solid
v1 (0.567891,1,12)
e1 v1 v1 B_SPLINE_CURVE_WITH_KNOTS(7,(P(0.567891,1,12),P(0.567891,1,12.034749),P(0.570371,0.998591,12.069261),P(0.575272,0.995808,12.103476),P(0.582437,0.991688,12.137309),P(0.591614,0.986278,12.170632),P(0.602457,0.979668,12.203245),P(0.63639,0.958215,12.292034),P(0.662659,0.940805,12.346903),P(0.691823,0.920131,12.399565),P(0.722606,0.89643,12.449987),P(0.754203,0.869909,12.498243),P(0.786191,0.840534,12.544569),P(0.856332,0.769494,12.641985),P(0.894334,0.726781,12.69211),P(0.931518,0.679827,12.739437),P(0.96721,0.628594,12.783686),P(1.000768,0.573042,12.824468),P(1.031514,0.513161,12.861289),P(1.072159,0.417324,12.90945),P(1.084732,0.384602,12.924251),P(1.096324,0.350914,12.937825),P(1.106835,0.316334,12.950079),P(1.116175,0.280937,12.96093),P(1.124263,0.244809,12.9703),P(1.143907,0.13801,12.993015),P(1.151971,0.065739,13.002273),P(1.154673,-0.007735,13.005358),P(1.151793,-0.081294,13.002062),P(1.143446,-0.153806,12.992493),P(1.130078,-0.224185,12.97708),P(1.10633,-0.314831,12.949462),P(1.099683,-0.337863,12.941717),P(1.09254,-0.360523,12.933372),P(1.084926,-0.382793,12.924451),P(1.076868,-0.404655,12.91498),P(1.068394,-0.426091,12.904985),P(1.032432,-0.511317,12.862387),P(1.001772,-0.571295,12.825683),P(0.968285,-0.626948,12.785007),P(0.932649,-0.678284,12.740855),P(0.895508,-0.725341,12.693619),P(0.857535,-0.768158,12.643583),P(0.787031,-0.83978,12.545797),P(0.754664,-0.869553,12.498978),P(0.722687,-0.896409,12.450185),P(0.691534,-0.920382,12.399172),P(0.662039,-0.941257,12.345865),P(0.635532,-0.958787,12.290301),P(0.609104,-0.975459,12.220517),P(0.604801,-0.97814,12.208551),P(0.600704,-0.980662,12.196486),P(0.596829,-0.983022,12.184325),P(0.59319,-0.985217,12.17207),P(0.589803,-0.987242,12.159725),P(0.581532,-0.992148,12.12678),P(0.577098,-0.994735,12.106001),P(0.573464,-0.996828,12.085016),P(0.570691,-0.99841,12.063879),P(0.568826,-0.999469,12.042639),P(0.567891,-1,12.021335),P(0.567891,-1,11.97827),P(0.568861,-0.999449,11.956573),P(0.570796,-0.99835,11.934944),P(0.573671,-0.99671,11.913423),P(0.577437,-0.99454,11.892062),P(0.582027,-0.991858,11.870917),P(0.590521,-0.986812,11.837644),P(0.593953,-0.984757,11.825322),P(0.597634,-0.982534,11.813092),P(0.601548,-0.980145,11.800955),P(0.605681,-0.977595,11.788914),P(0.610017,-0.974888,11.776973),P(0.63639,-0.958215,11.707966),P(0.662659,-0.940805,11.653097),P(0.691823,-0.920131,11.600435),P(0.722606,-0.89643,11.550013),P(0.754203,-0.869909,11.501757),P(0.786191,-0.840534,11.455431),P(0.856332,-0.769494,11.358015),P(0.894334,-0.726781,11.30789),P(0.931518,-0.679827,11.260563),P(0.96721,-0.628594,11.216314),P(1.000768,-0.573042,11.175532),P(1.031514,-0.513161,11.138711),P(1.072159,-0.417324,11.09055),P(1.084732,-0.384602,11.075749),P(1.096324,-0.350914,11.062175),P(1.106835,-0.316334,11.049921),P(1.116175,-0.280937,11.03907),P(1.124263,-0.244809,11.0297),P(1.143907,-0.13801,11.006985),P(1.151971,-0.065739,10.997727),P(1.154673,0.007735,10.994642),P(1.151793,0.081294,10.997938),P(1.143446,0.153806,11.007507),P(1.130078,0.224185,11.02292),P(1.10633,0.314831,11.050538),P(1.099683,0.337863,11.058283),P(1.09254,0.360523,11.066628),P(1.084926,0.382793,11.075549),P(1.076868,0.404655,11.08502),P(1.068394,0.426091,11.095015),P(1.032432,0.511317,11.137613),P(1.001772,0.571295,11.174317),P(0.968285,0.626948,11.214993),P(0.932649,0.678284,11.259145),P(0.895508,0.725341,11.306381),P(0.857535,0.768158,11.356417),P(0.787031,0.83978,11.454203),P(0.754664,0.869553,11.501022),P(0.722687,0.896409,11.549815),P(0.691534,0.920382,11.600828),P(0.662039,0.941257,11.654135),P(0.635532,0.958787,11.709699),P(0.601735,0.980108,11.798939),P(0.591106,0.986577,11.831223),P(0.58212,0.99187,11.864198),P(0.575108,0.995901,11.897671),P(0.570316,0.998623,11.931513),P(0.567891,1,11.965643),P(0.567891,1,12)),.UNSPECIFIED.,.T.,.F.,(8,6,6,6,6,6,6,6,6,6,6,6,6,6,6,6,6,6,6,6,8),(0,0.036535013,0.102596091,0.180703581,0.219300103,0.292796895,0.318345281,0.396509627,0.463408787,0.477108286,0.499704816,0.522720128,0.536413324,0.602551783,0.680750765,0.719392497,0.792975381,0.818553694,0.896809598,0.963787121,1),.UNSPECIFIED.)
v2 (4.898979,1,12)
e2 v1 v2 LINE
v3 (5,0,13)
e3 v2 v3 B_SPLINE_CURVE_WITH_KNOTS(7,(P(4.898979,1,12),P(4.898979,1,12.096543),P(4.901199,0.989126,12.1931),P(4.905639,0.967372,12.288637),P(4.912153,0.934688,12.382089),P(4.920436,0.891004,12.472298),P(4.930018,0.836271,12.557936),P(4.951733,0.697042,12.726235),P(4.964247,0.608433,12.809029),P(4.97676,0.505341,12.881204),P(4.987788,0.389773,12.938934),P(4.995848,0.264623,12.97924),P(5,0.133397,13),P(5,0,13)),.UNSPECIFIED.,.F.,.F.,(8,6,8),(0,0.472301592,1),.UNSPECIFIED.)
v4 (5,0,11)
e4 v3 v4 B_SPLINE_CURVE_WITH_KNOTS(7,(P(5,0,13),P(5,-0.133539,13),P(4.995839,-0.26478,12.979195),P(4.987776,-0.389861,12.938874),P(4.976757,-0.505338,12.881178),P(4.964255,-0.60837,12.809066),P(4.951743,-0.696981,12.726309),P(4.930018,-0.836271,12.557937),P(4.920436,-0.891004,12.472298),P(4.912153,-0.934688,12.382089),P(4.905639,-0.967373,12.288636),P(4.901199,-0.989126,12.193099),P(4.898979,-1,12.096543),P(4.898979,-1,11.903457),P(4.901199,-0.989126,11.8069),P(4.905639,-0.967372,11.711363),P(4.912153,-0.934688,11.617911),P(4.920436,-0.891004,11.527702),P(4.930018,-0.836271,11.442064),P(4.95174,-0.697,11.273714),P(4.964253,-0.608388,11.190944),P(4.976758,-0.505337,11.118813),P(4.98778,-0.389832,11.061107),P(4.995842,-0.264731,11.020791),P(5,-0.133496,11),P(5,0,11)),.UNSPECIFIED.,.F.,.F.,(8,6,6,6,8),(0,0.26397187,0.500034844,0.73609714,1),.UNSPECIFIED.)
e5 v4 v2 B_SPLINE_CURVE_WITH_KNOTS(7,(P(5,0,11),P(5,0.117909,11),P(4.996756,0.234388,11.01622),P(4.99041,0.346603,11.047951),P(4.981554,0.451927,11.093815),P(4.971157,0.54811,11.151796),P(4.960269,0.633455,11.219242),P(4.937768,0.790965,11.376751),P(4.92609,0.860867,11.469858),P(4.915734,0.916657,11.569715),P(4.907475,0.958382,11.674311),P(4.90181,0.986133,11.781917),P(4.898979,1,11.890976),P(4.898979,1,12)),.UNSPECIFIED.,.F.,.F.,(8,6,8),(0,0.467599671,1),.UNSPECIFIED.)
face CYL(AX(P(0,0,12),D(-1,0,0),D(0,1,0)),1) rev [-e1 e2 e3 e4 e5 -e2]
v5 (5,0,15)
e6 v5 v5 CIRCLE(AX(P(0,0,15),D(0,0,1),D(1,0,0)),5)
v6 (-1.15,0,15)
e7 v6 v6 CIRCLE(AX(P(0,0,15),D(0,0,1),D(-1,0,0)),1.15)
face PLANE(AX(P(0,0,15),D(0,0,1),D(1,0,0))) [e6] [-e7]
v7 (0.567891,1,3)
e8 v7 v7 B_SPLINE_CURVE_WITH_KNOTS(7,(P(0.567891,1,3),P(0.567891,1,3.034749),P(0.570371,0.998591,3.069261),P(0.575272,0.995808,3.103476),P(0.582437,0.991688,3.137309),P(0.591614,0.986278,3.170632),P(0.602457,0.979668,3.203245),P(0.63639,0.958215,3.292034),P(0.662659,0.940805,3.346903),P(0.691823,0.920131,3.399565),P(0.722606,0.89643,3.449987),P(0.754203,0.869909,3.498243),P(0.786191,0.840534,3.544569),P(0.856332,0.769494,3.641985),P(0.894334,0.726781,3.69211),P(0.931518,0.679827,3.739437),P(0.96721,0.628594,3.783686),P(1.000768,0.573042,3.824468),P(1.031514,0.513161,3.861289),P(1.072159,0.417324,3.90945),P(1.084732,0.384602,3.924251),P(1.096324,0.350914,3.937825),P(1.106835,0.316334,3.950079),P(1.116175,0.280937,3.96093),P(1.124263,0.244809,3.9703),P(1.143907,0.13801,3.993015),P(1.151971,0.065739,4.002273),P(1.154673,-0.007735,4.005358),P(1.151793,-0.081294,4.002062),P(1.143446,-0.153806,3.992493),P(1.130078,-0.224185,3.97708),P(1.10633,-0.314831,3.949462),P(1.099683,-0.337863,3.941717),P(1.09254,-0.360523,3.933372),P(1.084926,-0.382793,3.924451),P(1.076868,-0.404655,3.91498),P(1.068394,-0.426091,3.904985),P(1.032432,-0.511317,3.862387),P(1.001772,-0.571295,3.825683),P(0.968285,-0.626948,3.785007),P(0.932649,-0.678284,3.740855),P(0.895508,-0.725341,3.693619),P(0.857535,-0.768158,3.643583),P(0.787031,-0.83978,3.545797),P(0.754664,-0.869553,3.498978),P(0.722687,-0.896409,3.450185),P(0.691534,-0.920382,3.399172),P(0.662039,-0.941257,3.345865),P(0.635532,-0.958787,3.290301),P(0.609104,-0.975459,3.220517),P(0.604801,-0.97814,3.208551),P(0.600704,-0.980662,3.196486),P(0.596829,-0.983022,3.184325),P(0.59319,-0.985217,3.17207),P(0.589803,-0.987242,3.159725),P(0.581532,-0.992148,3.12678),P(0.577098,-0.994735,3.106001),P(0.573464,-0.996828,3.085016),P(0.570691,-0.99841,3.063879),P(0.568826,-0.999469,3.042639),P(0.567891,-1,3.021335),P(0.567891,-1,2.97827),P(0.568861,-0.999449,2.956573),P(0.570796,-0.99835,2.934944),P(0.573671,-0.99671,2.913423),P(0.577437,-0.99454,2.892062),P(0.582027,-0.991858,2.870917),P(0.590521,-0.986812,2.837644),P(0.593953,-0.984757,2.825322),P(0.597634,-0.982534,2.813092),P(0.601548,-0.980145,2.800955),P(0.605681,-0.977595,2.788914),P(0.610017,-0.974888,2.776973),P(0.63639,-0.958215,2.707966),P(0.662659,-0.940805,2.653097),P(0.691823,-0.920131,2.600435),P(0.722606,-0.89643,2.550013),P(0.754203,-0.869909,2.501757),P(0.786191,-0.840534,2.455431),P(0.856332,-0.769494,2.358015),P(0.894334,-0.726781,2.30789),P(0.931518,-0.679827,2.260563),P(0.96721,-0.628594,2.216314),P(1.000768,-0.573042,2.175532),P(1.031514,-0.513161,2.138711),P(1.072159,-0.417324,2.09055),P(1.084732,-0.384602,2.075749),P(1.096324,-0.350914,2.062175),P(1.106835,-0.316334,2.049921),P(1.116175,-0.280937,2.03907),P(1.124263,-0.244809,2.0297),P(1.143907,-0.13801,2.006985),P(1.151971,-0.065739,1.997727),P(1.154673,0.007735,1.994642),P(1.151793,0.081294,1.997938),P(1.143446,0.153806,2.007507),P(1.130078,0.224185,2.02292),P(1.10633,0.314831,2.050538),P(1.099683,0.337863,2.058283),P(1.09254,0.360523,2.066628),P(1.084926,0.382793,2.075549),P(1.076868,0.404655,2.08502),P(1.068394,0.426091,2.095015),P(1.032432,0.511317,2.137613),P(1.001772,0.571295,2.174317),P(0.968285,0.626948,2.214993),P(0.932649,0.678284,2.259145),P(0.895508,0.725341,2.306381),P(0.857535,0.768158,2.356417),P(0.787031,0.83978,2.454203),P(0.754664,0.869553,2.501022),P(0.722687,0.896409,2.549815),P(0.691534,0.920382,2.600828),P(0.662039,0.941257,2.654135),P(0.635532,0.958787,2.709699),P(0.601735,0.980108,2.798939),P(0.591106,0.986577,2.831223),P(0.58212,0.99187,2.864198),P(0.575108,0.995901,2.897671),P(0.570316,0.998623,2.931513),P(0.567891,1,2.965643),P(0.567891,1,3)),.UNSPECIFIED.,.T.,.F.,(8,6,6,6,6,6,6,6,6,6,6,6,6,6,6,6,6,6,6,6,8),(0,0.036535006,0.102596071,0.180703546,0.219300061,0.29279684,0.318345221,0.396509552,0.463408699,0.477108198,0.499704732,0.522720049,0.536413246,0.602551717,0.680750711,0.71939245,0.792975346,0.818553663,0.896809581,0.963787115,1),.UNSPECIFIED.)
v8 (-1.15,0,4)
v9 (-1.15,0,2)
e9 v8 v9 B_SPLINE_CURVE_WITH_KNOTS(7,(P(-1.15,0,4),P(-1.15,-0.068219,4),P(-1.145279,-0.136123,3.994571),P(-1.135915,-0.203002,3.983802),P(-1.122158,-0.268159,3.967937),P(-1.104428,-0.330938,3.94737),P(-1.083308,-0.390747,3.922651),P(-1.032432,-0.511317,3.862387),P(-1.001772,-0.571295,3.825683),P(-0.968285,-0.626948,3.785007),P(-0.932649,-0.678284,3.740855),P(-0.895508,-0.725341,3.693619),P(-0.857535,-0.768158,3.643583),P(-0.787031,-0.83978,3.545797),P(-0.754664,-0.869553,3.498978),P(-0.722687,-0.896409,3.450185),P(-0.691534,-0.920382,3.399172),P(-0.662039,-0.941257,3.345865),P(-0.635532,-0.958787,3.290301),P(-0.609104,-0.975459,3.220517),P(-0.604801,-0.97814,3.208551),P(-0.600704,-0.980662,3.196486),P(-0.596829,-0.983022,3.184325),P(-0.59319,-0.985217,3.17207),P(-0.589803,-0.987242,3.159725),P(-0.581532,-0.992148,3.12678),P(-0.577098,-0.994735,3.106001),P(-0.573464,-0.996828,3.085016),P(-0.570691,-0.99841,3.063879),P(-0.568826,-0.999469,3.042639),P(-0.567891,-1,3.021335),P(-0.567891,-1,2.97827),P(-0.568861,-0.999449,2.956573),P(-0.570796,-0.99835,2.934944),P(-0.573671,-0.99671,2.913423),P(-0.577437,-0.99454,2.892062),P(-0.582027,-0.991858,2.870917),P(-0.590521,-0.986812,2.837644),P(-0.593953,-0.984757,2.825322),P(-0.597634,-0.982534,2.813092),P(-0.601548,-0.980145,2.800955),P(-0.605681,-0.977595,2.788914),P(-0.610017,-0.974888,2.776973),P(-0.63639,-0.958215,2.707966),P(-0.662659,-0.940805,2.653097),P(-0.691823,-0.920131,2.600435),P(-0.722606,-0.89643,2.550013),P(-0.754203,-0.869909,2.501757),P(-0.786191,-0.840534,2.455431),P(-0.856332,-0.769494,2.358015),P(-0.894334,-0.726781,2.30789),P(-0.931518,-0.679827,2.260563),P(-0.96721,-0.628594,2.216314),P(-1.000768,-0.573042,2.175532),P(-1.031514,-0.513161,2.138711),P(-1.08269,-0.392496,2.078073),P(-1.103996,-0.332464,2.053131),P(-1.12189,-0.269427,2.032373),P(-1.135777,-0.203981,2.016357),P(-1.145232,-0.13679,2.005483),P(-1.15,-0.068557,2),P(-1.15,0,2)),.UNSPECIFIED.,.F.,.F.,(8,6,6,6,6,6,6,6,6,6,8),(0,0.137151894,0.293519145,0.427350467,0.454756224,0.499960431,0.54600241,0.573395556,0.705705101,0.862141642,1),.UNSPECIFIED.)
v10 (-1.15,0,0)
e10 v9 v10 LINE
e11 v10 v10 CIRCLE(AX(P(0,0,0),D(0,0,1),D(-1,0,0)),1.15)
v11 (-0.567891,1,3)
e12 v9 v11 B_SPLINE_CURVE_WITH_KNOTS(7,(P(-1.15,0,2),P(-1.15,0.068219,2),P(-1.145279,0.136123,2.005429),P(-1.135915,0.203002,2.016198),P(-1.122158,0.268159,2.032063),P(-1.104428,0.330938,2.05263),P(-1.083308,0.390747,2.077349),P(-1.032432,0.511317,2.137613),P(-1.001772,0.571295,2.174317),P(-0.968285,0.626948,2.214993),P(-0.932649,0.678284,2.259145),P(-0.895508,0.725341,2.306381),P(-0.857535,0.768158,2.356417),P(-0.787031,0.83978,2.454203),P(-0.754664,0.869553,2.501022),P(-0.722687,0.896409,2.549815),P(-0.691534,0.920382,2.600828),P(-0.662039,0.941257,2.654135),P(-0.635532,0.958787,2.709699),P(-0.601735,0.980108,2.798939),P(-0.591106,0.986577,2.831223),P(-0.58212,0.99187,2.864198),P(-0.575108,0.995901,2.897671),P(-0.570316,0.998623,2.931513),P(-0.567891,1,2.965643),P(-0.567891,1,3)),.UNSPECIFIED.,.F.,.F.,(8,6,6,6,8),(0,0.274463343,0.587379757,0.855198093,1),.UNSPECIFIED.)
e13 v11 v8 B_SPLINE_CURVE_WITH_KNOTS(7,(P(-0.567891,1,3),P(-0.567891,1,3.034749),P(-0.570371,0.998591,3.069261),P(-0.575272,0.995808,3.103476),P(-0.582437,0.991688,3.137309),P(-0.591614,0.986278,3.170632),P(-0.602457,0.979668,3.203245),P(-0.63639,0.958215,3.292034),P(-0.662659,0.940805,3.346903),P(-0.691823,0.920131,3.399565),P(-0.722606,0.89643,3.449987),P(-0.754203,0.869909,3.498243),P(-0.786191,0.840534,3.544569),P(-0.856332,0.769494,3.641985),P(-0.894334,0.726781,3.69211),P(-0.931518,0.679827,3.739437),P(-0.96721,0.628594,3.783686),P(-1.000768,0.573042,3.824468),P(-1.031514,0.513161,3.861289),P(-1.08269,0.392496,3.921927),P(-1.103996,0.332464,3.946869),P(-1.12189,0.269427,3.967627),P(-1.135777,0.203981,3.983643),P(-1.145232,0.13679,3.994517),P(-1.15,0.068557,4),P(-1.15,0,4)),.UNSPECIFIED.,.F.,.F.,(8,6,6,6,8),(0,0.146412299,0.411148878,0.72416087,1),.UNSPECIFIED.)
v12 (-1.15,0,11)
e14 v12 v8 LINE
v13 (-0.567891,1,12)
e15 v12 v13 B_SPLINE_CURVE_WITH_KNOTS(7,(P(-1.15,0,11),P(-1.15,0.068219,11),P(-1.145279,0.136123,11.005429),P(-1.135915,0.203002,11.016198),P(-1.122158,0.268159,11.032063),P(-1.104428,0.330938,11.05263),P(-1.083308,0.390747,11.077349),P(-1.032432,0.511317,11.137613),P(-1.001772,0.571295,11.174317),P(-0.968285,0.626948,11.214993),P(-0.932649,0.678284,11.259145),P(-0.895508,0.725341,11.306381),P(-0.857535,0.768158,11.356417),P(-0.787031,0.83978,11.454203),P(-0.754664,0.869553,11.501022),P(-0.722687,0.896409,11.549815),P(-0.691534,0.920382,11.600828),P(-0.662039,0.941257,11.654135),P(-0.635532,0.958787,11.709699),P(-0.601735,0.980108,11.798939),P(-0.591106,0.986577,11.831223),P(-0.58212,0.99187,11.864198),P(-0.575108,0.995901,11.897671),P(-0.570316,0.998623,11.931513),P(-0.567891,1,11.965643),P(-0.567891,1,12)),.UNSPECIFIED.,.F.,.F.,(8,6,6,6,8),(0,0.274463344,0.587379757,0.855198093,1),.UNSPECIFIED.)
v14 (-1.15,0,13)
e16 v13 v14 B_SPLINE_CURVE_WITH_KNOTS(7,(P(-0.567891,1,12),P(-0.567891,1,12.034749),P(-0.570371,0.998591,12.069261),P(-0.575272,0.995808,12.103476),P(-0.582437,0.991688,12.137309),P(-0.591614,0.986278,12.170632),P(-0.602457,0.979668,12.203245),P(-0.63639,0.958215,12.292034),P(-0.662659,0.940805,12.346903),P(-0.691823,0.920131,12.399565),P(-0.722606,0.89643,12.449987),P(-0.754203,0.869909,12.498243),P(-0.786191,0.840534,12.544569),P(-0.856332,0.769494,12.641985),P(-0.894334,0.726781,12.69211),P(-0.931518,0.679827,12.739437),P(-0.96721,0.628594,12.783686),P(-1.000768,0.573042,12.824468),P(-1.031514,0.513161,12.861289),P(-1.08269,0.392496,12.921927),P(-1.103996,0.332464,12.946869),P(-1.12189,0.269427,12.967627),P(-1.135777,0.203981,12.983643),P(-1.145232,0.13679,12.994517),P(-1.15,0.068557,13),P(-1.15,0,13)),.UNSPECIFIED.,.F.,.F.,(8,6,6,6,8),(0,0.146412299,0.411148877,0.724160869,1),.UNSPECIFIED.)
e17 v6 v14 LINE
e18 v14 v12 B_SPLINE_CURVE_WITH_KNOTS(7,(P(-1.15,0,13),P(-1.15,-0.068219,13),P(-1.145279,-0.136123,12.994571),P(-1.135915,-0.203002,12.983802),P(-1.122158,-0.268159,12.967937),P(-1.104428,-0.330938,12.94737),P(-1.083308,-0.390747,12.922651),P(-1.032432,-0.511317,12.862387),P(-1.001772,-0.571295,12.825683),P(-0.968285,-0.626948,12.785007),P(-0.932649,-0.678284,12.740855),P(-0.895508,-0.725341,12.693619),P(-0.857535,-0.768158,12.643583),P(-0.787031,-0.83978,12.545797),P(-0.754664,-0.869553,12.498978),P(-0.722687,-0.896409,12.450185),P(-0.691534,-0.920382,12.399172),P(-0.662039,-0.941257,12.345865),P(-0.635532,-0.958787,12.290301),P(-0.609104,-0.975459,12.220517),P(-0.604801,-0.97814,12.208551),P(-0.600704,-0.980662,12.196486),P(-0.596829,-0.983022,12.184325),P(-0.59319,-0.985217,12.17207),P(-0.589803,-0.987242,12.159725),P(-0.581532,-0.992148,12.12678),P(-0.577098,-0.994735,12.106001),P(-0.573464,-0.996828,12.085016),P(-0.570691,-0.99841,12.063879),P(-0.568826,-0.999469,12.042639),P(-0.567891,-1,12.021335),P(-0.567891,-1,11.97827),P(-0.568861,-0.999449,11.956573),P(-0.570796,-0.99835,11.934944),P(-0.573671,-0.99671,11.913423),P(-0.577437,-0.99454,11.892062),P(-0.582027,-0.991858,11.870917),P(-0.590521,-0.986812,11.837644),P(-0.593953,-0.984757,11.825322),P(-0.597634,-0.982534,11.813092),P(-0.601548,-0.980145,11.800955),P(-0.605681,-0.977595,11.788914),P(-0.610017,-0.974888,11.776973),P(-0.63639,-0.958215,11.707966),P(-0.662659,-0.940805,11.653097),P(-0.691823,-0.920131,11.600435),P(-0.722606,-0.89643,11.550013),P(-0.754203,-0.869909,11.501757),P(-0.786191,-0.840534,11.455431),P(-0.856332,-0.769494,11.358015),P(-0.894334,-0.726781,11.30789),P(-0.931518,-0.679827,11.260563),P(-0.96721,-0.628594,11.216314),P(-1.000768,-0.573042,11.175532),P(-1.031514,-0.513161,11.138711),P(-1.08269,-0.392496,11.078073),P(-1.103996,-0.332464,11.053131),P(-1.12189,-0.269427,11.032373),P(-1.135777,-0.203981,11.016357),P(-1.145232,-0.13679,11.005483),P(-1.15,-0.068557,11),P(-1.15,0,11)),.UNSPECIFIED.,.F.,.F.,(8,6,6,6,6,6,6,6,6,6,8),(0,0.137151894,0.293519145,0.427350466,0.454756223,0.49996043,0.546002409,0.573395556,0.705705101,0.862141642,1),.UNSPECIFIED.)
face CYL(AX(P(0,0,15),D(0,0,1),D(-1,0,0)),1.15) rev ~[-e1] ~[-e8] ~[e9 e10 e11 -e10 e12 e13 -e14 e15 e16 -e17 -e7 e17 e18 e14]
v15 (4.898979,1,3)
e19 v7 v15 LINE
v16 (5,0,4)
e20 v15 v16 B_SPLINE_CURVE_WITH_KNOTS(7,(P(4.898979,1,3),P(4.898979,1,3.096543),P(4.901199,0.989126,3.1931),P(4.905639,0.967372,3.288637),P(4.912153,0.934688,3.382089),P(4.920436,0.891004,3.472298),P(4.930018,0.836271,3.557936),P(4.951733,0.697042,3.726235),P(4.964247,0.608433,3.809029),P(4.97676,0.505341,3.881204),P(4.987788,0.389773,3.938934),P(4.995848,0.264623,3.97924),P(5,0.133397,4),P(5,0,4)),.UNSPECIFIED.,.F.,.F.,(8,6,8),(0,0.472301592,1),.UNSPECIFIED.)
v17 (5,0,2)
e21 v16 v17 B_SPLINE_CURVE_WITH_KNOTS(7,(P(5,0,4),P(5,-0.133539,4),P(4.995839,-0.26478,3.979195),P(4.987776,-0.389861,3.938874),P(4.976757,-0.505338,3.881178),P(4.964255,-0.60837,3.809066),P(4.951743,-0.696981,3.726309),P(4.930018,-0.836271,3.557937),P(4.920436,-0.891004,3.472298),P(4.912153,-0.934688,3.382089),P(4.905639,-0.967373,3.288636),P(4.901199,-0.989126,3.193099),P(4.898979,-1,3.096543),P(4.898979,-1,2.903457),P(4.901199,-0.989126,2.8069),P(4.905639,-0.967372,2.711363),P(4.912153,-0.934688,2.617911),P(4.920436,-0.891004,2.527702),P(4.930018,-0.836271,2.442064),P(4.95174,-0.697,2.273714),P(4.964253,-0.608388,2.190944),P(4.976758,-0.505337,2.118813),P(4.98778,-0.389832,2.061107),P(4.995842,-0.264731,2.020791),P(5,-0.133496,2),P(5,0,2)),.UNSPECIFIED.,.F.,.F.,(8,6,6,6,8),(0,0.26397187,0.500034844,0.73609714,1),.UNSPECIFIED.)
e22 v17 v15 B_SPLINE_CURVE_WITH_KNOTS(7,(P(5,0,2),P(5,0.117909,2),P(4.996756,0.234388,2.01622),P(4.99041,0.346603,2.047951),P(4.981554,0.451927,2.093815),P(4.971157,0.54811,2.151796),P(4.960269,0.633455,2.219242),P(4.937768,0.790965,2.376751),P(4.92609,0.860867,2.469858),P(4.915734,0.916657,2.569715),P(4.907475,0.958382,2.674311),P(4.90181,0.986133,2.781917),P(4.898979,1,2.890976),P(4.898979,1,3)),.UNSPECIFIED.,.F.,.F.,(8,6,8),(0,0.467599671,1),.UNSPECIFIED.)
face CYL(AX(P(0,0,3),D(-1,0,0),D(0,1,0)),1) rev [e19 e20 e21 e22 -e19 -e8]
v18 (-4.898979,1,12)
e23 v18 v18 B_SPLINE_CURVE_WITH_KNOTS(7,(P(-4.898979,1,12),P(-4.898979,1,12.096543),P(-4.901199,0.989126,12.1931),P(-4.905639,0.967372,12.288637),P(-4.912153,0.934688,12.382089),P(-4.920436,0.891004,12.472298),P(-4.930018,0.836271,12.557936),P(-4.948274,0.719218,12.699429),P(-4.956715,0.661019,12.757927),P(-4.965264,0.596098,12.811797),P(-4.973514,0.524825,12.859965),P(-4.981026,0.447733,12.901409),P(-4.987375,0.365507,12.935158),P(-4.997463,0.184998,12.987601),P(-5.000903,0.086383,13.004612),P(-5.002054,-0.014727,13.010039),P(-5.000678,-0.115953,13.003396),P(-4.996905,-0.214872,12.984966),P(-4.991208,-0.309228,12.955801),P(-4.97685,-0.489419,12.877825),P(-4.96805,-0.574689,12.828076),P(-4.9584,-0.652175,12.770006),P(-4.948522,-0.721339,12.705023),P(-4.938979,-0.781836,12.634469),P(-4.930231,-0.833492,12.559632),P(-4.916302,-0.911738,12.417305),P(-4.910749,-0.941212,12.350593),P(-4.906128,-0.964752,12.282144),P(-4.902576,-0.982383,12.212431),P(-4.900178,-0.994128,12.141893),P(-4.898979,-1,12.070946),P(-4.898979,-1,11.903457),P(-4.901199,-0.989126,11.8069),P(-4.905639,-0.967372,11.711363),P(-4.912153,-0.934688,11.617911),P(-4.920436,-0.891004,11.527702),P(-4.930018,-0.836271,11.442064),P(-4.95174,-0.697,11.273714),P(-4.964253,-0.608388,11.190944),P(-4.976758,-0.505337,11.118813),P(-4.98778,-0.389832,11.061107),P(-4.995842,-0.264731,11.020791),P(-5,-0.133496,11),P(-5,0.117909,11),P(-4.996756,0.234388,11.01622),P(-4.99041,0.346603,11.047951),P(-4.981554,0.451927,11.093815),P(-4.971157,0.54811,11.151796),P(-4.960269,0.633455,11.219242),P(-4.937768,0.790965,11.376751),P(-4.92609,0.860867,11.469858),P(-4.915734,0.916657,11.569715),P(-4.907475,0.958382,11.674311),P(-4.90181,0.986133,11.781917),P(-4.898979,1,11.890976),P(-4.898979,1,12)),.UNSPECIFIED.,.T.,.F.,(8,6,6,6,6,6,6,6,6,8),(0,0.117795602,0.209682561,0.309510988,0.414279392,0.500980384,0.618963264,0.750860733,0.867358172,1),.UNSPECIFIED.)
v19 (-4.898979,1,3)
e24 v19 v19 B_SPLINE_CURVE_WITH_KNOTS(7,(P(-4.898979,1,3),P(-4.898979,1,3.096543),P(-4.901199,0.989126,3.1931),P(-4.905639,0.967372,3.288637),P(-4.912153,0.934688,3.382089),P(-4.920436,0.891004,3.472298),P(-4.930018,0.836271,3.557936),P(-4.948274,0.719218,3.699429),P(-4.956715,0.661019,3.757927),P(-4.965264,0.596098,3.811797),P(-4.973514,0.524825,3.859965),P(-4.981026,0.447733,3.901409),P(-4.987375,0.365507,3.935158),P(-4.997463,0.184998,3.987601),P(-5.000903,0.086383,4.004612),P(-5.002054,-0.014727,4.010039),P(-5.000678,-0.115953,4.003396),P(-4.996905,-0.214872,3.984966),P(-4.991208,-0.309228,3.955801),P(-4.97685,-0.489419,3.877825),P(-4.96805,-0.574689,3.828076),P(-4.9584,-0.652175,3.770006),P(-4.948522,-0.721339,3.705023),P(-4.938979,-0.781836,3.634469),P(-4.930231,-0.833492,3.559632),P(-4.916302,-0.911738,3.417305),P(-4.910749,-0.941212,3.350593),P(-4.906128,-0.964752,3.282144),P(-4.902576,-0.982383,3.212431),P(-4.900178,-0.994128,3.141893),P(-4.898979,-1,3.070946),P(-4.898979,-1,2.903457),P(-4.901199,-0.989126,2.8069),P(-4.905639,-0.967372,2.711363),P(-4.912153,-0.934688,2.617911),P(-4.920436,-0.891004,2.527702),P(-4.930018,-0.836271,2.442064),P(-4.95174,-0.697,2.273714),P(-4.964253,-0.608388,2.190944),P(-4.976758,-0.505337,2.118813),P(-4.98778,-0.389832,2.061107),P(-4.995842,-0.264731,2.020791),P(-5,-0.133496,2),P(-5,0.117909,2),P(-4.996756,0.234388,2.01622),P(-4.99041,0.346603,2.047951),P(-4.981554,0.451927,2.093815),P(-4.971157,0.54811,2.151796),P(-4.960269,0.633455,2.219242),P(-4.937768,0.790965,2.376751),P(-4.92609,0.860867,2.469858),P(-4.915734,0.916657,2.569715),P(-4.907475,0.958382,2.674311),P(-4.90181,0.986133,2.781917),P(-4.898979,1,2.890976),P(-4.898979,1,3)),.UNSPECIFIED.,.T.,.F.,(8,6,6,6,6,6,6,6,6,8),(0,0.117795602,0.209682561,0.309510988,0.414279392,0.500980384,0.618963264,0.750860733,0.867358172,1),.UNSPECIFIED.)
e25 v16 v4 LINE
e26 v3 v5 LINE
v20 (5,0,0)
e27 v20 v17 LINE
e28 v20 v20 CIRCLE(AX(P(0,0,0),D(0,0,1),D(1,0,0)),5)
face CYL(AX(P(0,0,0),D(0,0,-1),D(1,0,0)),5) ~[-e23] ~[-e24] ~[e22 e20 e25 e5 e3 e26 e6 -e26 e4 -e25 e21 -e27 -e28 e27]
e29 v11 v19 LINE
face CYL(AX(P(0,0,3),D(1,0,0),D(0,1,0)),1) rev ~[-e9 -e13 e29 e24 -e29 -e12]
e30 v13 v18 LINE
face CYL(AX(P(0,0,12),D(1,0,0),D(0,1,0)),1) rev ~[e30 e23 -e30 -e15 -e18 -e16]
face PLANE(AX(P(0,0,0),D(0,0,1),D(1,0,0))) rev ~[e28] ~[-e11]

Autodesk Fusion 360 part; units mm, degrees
sketch "Sketch1" plane through (0, 0, 0) normal (0, 0, 1) x (1, 0, 0)
  circle A0 centre (0, 0) radius 5
  dimension "d1" = 10
extrude "Extrude1" add sketch "Sketch1" along normal blind 15
sketch "Sketch3" plane through (0, 0, 0) normal (1, 0, 0) x (0, 1, 0)
  line L0 (0, 15) -> (0, 12) construction
  line L1 (0, 0) -> (0, 3) construction
  circle A0 centre (0, 12) radius 1
  circle A1 centre (0, 3) radius 1
  dimension "d5" = 2
  dimension "d6" = 2
  dimension "d9" = 3
  dimension "d10" = 3
extrude "Extrude2" cut sketch "Sketch3" along normal mid plane 12
sketch "Sketch4" plane through (0, 0, 15) normal (0, 0, 1) x (-1, 0, 0)
  circle A0 centre (0, 0) radius 5
  circle A1 centre (0, 0) radius 1.15
  dimension "d11" = 2.3
extrude "Extrude3" cut sketch "Sketch4" against normal blind 15 contours A1
